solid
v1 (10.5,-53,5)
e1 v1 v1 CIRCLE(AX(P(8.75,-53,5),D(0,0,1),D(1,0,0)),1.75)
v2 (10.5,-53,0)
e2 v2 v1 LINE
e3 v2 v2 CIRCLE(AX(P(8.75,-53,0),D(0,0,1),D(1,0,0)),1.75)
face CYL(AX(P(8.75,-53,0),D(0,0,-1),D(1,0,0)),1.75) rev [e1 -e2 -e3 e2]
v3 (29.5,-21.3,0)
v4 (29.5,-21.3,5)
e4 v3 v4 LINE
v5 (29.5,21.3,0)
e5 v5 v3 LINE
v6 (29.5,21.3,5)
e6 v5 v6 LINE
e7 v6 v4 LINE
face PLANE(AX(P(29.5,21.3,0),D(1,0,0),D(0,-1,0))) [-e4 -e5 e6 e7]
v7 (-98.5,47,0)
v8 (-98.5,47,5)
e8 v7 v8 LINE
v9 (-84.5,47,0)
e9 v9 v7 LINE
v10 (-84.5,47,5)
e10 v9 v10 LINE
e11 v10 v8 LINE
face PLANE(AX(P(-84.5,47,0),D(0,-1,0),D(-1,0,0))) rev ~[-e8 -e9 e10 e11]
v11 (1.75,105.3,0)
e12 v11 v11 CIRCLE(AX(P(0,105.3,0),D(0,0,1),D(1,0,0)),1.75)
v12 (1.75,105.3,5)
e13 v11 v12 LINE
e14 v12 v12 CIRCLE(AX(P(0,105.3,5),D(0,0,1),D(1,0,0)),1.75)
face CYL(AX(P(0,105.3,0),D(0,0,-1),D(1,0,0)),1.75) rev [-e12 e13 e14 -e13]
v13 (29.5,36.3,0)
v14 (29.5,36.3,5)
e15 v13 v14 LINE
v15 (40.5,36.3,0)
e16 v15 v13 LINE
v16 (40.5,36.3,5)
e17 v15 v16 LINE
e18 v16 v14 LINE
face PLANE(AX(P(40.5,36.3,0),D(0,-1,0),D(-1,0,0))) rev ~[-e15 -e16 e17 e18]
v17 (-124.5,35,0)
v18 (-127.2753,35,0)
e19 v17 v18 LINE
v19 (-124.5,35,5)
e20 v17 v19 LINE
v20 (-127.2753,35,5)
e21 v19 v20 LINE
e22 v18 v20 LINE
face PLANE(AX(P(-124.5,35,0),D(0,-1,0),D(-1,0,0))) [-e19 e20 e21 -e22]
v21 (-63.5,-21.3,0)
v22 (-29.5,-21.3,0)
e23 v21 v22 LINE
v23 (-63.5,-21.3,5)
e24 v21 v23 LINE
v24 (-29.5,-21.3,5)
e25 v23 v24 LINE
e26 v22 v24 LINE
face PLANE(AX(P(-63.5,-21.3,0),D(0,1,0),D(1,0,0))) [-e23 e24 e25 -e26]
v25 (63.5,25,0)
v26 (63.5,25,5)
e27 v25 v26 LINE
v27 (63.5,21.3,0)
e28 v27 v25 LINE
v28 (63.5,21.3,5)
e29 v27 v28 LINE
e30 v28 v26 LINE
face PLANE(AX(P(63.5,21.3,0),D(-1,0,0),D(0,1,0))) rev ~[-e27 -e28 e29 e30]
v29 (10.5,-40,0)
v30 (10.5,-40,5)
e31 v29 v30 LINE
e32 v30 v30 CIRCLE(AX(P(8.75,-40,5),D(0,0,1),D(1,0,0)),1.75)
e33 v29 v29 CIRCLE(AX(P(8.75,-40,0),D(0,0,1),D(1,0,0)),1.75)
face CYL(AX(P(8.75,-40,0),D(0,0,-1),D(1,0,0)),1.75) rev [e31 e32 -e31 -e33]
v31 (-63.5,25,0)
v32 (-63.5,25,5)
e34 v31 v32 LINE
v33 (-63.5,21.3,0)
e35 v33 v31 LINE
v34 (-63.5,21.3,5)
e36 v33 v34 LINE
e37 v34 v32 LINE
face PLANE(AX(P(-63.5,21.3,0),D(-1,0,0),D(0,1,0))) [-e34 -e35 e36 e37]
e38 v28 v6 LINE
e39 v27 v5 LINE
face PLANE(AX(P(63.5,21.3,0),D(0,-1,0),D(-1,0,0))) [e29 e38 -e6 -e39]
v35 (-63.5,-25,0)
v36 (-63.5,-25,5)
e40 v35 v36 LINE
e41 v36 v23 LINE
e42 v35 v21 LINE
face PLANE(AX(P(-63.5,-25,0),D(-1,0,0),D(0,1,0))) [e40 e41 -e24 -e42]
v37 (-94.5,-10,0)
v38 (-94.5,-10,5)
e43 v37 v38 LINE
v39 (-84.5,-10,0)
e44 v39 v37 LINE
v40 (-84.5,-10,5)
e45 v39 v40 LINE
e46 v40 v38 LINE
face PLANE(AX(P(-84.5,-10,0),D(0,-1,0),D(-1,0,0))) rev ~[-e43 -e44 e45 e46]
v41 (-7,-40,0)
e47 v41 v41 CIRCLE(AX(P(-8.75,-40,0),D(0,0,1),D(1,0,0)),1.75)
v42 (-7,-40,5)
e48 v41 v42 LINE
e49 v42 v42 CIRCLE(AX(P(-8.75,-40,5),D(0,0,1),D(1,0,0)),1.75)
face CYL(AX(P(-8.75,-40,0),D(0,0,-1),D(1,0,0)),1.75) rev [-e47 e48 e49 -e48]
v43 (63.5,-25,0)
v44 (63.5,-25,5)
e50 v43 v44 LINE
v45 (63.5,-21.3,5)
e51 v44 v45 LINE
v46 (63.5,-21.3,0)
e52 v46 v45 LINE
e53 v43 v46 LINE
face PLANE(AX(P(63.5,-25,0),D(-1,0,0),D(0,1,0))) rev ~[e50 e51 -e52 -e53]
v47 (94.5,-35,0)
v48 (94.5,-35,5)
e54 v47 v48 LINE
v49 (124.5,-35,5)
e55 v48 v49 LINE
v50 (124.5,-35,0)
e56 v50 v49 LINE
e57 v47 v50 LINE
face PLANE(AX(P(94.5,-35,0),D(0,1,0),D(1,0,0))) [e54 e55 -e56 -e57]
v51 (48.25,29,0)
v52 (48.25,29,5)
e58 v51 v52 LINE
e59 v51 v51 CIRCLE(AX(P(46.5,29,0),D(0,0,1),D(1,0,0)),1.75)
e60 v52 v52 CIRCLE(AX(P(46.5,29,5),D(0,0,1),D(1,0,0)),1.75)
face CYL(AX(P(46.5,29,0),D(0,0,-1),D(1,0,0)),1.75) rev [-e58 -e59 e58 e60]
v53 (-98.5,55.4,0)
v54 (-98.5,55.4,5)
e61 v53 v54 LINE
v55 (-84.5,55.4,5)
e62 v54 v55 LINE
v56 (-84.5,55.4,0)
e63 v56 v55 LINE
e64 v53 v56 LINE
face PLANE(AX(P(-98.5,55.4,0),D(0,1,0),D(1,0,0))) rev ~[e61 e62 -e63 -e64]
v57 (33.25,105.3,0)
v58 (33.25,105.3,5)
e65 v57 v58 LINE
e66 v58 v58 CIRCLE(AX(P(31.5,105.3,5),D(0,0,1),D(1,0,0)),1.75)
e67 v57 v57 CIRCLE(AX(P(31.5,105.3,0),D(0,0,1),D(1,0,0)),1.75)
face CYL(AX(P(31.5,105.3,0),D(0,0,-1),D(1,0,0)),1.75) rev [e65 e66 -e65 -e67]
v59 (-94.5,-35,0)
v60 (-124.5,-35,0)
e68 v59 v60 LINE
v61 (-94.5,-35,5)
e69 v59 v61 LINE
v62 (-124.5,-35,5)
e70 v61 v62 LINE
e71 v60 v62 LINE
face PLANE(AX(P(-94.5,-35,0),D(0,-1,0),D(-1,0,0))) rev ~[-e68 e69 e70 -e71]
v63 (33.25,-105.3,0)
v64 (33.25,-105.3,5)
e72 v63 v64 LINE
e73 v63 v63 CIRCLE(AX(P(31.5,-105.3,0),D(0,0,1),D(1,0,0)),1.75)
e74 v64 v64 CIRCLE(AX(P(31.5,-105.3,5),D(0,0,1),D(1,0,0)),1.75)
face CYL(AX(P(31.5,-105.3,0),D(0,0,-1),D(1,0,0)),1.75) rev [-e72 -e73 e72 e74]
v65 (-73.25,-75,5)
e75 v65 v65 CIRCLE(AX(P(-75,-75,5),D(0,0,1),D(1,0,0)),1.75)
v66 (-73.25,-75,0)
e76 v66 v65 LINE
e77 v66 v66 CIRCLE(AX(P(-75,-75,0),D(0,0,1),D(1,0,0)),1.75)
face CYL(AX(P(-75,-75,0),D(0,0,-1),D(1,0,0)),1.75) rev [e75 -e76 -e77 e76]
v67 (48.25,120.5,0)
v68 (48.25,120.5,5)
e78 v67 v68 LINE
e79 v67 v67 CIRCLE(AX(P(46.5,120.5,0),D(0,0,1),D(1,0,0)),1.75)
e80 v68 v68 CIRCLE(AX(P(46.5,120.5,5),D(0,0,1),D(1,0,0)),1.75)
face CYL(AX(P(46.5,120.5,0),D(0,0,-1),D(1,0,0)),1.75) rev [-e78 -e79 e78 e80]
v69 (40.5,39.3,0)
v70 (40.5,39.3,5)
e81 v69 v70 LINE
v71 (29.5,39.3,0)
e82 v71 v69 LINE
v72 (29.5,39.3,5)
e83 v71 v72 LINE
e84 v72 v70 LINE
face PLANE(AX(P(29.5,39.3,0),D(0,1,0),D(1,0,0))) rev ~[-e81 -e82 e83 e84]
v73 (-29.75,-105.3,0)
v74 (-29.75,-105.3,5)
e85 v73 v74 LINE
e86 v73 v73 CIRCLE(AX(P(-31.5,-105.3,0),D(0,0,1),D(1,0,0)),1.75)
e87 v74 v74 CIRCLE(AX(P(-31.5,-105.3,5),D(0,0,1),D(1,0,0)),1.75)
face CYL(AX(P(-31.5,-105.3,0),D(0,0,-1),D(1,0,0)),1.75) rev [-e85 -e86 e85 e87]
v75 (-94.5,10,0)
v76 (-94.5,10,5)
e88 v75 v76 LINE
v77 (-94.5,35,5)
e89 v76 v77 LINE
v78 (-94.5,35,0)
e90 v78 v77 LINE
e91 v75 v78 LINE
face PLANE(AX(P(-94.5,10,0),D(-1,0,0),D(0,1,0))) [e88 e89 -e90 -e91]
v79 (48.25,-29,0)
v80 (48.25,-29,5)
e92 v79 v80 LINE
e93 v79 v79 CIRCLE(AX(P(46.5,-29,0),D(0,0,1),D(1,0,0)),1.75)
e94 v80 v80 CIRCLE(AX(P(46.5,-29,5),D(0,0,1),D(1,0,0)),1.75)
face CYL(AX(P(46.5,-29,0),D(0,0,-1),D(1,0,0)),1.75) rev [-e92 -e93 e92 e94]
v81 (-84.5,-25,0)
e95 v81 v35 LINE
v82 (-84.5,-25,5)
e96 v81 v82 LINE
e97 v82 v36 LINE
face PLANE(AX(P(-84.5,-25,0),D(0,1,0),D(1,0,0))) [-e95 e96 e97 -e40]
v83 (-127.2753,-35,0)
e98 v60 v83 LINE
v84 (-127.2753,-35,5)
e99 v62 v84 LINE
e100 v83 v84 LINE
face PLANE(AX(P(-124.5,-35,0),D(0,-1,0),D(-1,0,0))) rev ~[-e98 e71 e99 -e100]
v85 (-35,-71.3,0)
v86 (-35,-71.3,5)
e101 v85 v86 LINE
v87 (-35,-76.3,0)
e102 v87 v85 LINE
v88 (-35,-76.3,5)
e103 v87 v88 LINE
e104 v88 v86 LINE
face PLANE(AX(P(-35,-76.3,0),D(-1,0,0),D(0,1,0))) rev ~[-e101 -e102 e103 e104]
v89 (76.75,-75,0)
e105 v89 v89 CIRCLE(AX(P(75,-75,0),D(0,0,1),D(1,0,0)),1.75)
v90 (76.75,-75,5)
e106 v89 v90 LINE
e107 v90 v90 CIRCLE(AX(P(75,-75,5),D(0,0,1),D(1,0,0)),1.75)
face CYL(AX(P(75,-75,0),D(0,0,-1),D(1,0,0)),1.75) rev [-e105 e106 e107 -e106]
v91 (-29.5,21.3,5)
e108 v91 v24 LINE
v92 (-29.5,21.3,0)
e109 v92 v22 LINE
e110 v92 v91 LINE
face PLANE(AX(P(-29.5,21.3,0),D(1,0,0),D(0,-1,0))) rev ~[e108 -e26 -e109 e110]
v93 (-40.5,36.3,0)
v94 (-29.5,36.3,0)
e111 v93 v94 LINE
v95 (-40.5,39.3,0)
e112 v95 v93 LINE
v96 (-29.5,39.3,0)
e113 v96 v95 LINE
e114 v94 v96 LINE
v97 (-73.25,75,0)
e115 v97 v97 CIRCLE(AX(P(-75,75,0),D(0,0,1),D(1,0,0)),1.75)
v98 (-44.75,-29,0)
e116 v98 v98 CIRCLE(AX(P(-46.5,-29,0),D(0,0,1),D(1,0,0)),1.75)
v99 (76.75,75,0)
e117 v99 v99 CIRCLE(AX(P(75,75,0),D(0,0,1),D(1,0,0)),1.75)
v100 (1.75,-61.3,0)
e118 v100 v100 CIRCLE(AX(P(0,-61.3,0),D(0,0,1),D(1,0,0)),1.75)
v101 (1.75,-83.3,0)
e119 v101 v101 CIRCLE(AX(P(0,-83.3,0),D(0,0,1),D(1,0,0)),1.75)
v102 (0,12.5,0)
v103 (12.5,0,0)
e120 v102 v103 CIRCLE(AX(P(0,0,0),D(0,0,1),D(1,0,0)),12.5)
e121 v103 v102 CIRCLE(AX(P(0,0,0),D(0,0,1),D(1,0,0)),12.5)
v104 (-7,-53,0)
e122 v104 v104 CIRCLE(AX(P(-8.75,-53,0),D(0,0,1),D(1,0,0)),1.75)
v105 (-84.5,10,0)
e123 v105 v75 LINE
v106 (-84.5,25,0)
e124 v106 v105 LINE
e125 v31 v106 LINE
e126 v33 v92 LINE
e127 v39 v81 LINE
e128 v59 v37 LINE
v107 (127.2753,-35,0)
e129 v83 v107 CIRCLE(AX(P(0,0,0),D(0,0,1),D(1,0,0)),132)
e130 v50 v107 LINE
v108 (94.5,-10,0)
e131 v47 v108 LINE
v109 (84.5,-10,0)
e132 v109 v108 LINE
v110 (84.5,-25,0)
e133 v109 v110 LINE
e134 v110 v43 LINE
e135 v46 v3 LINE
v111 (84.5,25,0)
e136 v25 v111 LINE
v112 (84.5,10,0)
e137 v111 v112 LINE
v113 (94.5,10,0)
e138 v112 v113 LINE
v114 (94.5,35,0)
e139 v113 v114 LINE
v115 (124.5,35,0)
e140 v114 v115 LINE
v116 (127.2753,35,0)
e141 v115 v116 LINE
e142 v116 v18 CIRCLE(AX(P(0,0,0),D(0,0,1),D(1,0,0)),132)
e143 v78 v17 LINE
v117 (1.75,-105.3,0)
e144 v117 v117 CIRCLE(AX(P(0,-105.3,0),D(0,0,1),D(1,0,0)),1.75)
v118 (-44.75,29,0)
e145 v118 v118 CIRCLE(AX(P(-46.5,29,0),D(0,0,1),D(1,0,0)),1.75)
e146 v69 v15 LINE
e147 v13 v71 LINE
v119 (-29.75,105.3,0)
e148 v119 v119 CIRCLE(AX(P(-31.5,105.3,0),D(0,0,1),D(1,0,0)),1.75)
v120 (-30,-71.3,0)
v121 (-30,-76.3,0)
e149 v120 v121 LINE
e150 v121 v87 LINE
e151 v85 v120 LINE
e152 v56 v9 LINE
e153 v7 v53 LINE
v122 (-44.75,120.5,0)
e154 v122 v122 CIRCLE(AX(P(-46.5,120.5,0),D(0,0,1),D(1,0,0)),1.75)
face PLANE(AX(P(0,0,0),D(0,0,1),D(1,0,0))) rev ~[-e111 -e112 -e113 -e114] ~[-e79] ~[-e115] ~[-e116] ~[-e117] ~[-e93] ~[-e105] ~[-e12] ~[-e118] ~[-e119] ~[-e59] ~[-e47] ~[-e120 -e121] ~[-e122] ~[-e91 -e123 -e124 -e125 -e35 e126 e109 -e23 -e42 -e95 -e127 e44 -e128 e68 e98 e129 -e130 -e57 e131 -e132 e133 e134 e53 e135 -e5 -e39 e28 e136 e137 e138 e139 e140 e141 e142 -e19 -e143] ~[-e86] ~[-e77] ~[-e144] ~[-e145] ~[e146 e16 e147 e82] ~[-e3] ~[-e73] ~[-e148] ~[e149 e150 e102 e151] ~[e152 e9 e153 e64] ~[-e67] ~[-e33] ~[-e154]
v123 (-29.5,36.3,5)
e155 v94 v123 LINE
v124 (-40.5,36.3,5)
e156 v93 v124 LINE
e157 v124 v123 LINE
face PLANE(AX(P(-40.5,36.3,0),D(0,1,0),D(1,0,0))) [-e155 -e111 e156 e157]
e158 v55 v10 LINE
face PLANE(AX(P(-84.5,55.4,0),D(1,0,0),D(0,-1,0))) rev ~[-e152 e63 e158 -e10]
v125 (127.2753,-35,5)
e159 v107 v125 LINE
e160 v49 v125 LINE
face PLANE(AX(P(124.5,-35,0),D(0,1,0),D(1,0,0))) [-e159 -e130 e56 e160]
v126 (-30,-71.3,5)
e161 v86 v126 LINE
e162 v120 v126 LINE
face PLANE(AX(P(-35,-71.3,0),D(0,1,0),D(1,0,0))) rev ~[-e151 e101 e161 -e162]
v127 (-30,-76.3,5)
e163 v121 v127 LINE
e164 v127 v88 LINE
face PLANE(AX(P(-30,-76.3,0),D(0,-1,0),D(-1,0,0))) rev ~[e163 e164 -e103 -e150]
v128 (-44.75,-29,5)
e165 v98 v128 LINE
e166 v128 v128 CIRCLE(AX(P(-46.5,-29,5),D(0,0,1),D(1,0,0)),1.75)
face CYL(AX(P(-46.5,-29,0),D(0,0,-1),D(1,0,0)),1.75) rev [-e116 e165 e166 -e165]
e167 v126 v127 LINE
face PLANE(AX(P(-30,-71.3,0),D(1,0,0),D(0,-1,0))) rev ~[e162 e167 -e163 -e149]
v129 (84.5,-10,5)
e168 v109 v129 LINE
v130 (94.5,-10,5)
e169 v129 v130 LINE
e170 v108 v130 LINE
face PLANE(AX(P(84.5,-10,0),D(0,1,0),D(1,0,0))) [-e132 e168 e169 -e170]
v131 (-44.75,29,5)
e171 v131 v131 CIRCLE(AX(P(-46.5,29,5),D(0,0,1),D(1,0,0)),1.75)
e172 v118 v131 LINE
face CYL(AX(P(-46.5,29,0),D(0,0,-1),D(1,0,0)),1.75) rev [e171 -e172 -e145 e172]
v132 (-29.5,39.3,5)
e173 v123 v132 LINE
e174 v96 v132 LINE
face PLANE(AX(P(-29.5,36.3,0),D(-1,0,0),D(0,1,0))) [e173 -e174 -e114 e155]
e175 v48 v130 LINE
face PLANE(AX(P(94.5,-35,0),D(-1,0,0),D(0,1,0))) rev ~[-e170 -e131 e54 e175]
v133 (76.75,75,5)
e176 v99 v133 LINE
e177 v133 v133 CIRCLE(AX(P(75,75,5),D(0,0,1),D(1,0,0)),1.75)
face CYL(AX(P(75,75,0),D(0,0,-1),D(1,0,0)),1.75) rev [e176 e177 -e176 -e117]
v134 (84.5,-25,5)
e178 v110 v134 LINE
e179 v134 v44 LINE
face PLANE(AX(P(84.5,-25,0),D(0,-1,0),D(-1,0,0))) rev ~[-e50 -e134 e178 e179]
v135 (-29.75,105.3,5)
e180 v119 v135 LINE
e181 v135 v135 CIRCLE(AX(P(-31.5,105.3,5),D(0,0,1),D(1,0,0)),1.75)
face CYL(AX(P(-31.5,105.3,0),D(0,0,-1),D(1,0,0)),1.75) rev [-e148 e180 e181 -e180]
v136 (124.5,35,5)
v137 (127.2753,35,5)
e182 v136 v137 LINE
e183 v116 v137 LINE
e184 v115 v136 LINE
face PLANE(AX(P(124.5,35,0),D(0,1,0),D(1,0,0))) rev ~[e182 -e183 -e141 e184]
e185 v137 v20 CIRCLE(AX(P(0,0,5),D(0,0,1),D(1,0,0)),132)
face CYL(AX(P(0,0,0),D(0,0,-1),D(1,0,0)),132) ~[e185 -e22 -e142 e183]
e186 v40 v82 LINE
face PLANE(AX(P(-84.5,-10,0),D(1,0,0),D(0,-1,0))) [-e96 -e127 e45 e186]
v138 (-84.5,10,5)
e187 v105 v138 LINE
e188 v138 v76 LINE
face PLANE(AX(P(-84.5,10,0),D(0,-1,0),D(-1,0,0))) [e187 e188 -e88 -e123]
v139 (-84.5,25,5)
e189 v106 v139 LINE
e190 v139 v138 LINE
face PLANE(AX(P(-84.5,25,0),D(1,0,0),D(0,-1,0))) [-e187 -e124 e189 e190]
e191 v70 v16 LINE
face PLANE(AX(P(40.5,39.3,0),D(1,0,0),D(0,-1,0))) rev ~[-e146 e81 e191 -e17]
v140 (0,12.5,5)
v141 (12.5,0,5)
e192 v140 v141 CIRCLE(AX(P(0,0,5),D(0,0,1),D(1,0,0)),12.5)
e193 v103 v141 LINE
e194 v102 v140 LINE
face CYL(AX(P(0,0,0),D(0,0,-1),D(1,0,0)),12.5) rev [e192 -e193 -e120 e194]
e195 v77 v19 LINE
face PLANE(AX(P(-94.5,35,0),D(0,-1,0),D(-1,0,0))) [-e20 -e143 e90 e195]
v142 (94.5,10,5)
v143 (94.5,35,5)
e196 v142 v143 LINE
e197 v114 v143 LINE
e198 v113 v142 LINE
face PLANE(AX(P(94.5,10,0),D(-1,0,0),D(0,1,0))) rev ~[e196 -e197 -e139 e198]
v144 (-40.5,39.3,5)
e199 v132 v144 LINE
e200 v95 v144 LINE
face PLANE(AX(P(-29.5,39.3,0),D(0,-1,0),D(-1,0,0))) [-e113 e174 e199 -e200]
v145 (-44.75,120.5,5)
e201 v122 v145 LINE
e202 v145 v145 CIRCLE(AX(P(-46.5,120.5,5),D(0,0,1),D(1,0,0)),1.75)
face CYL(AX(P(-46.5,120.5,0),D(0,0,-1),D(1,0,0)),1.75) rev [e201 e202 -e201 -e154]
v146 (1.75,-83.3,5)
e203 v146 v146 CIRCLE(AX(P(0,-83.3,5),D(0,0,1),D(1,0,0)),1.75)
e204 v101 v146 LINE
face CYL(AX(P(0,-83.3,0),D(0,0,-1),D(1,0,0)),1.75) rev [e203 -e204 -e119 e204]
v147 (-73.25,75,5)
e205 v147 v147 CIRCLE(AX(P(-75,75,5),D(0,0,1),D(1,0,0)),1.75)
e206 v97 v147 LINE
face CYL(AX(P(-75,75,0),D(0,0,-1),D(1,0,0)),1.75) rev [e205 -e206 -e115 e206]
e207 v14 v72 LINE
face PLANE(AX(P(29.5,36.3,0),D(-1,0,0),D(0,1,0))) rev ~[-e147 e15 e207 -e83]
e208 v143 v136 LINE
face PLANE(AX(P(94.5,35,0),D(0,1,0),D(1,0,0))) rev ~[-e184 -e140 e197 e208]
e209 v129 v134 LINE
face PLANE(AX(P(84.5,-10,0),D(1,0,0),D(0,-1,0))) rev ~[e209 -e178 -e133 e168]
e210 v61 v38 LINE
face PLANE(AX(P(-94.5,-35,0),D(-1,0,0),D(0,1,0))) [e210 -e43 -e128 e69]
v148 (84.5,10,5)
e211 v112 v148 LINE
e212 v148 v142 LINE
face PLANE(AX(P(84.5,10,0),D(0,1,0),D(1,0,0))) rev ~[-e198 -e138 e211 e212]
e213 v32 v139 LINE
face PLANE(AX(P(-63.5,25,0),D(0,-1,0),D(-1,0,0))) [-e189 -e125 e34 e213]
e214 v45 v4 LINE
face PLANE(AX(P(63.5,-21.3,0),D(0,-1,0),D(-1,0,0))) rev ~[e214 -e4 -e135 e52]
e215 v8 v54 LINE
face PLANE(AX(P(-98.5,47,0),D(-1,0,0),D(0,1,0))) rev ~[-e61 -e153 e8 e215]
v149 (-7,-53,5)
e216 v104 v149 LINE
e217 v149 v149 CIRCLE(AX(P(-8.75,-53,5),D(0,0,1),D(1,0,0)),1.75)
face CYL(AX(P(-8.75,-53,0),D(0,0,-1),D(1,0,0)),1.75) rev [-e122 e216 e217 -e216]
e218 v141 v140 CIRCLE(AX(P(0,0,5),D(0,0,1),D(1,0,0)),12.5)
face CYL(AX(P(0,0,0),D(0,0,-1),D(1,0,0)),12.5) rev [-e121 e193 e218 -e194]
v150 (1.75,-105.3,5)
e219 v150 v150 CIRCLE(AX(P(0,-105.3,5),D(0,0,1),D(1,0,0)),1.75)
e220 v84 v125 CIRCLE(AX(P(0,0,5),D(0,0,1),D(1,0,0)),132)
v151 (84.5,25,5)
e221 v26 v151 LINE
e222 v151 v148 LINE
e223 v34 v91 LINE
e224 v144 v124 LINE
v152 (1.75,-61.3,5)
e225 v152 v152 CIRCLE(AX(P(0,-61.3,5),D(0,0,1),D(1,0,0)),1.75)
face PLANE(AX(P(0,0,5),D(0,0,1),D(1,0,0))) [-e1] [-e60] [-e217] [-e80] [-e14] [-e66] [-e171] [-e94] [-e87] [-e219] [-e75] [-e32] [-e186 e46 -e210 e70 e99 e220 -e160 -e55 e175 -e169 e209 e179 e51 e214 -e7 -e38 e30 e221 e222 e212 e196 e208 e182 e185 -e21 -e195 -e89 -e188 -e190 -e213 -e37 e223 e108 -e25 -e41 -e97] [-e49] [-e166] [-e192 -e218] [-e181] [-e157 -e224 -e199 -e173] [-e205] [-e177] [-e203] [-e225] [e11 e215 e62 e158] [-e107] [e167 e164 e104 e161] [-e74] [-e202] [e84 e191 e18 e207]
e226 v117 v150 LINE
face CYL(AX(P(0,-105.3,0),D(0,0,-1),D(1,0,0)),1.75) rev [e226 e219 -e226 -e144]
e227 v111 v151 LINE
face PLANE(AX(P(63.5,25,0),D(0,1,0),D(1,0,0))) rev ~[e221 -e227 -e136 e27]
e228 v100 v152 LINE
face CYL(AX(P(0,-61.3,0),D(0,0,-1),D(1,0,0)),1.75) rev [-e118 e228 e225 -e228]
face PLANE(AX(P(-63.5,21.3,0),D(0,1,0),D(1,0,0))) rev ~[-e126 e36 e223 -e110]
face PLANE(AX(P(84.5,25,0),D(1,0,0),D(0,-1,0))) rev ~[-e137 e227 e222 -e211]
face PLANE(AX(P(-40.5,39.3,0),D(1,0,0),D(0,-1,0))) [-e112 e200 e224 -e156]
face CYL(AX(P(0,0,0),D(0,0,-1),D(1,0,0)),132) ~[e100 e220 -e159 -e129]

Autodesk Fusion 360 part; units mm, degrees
sketch "Sketch1" plane through (0, 0, 0) normal (0, 0, 1) x (1, 0, 0)
  circle A0 centre (0, 0) radius 132
  line L0 (-29.5, 21.3) -> (-29.5, -21.3)
  line L1 (-94.5, -35) -> (-127.2753, -35)
  line L2 (-63.5, 21.3) -> (-29.5, 21.3)
  line L3 (-63.5, -21.3) -> (-29.5, -21.3)
  line L4 (-63.5, 25) -> (-84.5, 25)
  line L5 (-84.5, -25) -> (-63.5, -25)
  line L6 (-63.5, -25) -> (-63.5, -21.3)
  line L7 (-63.5, 21.3) -> (-63.5, 25)
  line L8 (-94.5, 35) -> (-127.2753, 35)
  circle A1 centre (-46.5, 29) radius 1.75
  circle A2 centre (-46.5, -29) radius 1.75
  line L9 (0, 2.5) -> (0, 20)
  circle A3 centre (8.75, -53) radius 1.75
  circle A4 centre (8.75, -40) radius 1.75
  circle A5 centre (-8.75, -40) radius 1.75
  circle A6 centre (-8.75, -53) radius 1.75
  line L10 (-124.5, -35) -> (-124.5, 35)
  line L11 (-84.5, -10) -> (-94.5, -10)
  line L12 (-84.5, 10) -> (-94.5, 10)
  line L13 (-84.5, 25) -> (-84.5, 10)
  line L14 (-84.5, -10) -> (-84.5, -25)
  line L15 (-94.5, -35) -> (-94.5, -10)
  line L16 (-94.5, 10) -> (-94.5, 35)
  line L17 (94.5, -35) -> (94.5, -10)
  line L18 (94.5, 10) -> (94.5, 35)
  circle A7 centre (46.5, 29) radius 1.75
  line L19 (63.5, 25) -> (84.5, 25)
  line L20 (94.5, 35) -> (127.2753, 35)
  line L21 (84.5, 25) -> (84.5, 10)
  line L22 (29.5, 21.3) -> (29.5, -21.3)
  line L23 (84.5, -10) -> (94.5, -10)
  line L24 (124.5, -35) -> (124.5, 35)
  line L25 (63.5, -25) -> (63.5, -21.3)
  line L26 (84.5, -10) -> (84.5, -25)
  line L27 (84.5, -25) -> (63.5, -25)
  line L28 (63.5, -21.3) -> (29.5, -21.3)
  line L29 (63.5, 21.3) -> (29.5, 21.3)
  line L30 (94.5, -35) -> (127.2753, -35)
  circle A8 centre (46.5, -29) radius 1.75
  line L31 (84.5, 10) -> (94.5, 10)
  line L32 (63.5, 21.3) -> (63.5, 25)
  line L33 (40.5, 36.3) -> (29.5, 36.3)
  line L34 (29.5, 36.3) -> (29.5, 39.3)
  line L35 (29.5, 39.3) -> (40.5, 39.3)
  line L36 (40.5, 39.3) -> (40.5, 36.3)
  line L37 (-40.5, 39.3) -> (-40.5, 36.3)
  line L38 (-40.5, 36.3) -> (-29.5, 36.3)
  line L39 (-29.5, 39.3) -> (-40.5, 39.3)
  line L40 (-29.5, 36.3) -> (-29.5, 39.3)
  line L41 (-84.5, 47) -> (-98.5, 47)
  line L42 (-98.5, 47) -> (-98.5, 55.4)
  line L43 (-98.5, 55.4) -> (-84.5, 55.4)
  line L44 (-84.5, 55.4) -> (-84.5, 47)
  circle A9 centre (0, -105.3) radius 1.75
  circle A10 centre (0, -83.3) radius 1.75
  circle A11 centre (0, -61.3) radius 1.75
  line L45 (-30, -76.3) -> (-35, -76.3)
  line L46 (-35, -76.3) -> (-35, -71.3)
  line L47 (-35, -71.3) -> (-30, -71.3)
  line L48 (-30, -71.3) -> (-30, -76.3)
  circle A12 centre (75, -75) radius 1.75
  circle A13 centre (75, 75) radius 1.75
  circle A14 centre (-75, 75) radius 1.75
  circle A15 centre (-75, -75) radius 1.75
  circle A16 centre (-31.5, -105.3) radius 1.75
  circle A17 centre (31.5, -105.3) radius 1.75
  circle A18 centre (-31.5, 105.3) radius 1.75
  circle A19 centre (31.5, 105.3) radius 1.75
  circle A20 centre (0, 105.3) radius 1.75
  circle A21 centre (-46.5, 120.5) radius 1.75
  circle A22 centre (46.5, 120.5) radius 1.75
  circle A23 centre (0, 0) radius 12.5
  point P0 (0, 80.767)
  point P1 (0, -132)
  point P2 (0, -83.3)
  point P3 (0, 74)
  dimension "d1" = 264
  dimension "d12" = 42.6
  dimension "d14" = 21.3
  dimension "d15" = 21
  dimension "d16" = 50
  dimension "d20" = 34
  dimension "d24" = 3.7
  dimension "d25" = 3.7
  dimension "d28" = 10
  dimension "d30" = 3.5
  dimension "d31" = 7.7
  dimension "d32" = 17
  dimension "d33" = 7.7
  dimension "d34" = 17
  dimension "d111" = 40
  dimension "d112" = 30
  dimension "d113" = 15
  dimension "d114" = 15
  dimension "d119" = 3.5
  dimension "d124" = 3.5
  dimension "d127" = 13
  dimension "d129" = 3.5
  dimension "d130" = 11
  dimension "d131" = 3
  dimension "d134" = 70
  dimension "d148" = 8.4
  dimension "d150" = 3.5
  dimension "d151" = 3.5
  dimension "d153" = 22
  dimension "d154" = 3.5
  dimension "d155" = 22
  dimension "d160" = 5
  dimension "d161" = 5
  dimension "d162" = 30
  dimension "d163" = 10
  dimension "d164" = 3.5
  dimension "d190" = 3.5
  dimension "d191" = 3.5
  dimension "d209" = 13
  dimension "d211" = 31.5
  dimension "d212" = 31.5
  dimension "d220" = 29.5
  dimension "d221" = 29.5
  dimension "d222" = 12
  dimension "d223" = 14
  dimension "d224" = 10
  dimension "d226" = 15
  dimension "d229" = 18.7
  dimension "d236" = 50
  dimension "d237" = 19.5
  dimension "d238" = 50
  dimension "d239" = 19.5
  dimension "d240" = 3.5
  dimension "d242" = 91.5
  dimension "d243" = 3.5
  dimension "d244" = 3.5
  dimension "d245" = 9.5
  dimension "d246" = 19.6
  dimension "d247" = 3.5
  dimension "d248" = 40
  dimension "d249" = 19.5
  dimension "d250" = 3.5
  dimension "d251" = 25
  dimension "d253" = 46.5
  dimension "d255" = 91.5
  dimension "d256" = 40
  dimension "d261" = 8.75
  dimension "d262" = 8.75
  dimension "d263" = 13
  dimension "d264" = 8.75
  dimension "d265" = 17.5
  dimension "d266" = 8.3
  dimension "d267" = 8.75
  dimension "d268" = 29
  dimension "d269" = 3.5
  dimension "d270" = 22
extrude "Extrude1" add sketch "Sketch1" along normal blind 5 contours A0 L0 L1 L2 L3 L4 L5 L6 L7 L8 L11 L12 L13 L14 L15 L16 L17 L18 L19 L20 L21 L22 L23 L25 L26 L27 L28 L29 L30 L31 L32
